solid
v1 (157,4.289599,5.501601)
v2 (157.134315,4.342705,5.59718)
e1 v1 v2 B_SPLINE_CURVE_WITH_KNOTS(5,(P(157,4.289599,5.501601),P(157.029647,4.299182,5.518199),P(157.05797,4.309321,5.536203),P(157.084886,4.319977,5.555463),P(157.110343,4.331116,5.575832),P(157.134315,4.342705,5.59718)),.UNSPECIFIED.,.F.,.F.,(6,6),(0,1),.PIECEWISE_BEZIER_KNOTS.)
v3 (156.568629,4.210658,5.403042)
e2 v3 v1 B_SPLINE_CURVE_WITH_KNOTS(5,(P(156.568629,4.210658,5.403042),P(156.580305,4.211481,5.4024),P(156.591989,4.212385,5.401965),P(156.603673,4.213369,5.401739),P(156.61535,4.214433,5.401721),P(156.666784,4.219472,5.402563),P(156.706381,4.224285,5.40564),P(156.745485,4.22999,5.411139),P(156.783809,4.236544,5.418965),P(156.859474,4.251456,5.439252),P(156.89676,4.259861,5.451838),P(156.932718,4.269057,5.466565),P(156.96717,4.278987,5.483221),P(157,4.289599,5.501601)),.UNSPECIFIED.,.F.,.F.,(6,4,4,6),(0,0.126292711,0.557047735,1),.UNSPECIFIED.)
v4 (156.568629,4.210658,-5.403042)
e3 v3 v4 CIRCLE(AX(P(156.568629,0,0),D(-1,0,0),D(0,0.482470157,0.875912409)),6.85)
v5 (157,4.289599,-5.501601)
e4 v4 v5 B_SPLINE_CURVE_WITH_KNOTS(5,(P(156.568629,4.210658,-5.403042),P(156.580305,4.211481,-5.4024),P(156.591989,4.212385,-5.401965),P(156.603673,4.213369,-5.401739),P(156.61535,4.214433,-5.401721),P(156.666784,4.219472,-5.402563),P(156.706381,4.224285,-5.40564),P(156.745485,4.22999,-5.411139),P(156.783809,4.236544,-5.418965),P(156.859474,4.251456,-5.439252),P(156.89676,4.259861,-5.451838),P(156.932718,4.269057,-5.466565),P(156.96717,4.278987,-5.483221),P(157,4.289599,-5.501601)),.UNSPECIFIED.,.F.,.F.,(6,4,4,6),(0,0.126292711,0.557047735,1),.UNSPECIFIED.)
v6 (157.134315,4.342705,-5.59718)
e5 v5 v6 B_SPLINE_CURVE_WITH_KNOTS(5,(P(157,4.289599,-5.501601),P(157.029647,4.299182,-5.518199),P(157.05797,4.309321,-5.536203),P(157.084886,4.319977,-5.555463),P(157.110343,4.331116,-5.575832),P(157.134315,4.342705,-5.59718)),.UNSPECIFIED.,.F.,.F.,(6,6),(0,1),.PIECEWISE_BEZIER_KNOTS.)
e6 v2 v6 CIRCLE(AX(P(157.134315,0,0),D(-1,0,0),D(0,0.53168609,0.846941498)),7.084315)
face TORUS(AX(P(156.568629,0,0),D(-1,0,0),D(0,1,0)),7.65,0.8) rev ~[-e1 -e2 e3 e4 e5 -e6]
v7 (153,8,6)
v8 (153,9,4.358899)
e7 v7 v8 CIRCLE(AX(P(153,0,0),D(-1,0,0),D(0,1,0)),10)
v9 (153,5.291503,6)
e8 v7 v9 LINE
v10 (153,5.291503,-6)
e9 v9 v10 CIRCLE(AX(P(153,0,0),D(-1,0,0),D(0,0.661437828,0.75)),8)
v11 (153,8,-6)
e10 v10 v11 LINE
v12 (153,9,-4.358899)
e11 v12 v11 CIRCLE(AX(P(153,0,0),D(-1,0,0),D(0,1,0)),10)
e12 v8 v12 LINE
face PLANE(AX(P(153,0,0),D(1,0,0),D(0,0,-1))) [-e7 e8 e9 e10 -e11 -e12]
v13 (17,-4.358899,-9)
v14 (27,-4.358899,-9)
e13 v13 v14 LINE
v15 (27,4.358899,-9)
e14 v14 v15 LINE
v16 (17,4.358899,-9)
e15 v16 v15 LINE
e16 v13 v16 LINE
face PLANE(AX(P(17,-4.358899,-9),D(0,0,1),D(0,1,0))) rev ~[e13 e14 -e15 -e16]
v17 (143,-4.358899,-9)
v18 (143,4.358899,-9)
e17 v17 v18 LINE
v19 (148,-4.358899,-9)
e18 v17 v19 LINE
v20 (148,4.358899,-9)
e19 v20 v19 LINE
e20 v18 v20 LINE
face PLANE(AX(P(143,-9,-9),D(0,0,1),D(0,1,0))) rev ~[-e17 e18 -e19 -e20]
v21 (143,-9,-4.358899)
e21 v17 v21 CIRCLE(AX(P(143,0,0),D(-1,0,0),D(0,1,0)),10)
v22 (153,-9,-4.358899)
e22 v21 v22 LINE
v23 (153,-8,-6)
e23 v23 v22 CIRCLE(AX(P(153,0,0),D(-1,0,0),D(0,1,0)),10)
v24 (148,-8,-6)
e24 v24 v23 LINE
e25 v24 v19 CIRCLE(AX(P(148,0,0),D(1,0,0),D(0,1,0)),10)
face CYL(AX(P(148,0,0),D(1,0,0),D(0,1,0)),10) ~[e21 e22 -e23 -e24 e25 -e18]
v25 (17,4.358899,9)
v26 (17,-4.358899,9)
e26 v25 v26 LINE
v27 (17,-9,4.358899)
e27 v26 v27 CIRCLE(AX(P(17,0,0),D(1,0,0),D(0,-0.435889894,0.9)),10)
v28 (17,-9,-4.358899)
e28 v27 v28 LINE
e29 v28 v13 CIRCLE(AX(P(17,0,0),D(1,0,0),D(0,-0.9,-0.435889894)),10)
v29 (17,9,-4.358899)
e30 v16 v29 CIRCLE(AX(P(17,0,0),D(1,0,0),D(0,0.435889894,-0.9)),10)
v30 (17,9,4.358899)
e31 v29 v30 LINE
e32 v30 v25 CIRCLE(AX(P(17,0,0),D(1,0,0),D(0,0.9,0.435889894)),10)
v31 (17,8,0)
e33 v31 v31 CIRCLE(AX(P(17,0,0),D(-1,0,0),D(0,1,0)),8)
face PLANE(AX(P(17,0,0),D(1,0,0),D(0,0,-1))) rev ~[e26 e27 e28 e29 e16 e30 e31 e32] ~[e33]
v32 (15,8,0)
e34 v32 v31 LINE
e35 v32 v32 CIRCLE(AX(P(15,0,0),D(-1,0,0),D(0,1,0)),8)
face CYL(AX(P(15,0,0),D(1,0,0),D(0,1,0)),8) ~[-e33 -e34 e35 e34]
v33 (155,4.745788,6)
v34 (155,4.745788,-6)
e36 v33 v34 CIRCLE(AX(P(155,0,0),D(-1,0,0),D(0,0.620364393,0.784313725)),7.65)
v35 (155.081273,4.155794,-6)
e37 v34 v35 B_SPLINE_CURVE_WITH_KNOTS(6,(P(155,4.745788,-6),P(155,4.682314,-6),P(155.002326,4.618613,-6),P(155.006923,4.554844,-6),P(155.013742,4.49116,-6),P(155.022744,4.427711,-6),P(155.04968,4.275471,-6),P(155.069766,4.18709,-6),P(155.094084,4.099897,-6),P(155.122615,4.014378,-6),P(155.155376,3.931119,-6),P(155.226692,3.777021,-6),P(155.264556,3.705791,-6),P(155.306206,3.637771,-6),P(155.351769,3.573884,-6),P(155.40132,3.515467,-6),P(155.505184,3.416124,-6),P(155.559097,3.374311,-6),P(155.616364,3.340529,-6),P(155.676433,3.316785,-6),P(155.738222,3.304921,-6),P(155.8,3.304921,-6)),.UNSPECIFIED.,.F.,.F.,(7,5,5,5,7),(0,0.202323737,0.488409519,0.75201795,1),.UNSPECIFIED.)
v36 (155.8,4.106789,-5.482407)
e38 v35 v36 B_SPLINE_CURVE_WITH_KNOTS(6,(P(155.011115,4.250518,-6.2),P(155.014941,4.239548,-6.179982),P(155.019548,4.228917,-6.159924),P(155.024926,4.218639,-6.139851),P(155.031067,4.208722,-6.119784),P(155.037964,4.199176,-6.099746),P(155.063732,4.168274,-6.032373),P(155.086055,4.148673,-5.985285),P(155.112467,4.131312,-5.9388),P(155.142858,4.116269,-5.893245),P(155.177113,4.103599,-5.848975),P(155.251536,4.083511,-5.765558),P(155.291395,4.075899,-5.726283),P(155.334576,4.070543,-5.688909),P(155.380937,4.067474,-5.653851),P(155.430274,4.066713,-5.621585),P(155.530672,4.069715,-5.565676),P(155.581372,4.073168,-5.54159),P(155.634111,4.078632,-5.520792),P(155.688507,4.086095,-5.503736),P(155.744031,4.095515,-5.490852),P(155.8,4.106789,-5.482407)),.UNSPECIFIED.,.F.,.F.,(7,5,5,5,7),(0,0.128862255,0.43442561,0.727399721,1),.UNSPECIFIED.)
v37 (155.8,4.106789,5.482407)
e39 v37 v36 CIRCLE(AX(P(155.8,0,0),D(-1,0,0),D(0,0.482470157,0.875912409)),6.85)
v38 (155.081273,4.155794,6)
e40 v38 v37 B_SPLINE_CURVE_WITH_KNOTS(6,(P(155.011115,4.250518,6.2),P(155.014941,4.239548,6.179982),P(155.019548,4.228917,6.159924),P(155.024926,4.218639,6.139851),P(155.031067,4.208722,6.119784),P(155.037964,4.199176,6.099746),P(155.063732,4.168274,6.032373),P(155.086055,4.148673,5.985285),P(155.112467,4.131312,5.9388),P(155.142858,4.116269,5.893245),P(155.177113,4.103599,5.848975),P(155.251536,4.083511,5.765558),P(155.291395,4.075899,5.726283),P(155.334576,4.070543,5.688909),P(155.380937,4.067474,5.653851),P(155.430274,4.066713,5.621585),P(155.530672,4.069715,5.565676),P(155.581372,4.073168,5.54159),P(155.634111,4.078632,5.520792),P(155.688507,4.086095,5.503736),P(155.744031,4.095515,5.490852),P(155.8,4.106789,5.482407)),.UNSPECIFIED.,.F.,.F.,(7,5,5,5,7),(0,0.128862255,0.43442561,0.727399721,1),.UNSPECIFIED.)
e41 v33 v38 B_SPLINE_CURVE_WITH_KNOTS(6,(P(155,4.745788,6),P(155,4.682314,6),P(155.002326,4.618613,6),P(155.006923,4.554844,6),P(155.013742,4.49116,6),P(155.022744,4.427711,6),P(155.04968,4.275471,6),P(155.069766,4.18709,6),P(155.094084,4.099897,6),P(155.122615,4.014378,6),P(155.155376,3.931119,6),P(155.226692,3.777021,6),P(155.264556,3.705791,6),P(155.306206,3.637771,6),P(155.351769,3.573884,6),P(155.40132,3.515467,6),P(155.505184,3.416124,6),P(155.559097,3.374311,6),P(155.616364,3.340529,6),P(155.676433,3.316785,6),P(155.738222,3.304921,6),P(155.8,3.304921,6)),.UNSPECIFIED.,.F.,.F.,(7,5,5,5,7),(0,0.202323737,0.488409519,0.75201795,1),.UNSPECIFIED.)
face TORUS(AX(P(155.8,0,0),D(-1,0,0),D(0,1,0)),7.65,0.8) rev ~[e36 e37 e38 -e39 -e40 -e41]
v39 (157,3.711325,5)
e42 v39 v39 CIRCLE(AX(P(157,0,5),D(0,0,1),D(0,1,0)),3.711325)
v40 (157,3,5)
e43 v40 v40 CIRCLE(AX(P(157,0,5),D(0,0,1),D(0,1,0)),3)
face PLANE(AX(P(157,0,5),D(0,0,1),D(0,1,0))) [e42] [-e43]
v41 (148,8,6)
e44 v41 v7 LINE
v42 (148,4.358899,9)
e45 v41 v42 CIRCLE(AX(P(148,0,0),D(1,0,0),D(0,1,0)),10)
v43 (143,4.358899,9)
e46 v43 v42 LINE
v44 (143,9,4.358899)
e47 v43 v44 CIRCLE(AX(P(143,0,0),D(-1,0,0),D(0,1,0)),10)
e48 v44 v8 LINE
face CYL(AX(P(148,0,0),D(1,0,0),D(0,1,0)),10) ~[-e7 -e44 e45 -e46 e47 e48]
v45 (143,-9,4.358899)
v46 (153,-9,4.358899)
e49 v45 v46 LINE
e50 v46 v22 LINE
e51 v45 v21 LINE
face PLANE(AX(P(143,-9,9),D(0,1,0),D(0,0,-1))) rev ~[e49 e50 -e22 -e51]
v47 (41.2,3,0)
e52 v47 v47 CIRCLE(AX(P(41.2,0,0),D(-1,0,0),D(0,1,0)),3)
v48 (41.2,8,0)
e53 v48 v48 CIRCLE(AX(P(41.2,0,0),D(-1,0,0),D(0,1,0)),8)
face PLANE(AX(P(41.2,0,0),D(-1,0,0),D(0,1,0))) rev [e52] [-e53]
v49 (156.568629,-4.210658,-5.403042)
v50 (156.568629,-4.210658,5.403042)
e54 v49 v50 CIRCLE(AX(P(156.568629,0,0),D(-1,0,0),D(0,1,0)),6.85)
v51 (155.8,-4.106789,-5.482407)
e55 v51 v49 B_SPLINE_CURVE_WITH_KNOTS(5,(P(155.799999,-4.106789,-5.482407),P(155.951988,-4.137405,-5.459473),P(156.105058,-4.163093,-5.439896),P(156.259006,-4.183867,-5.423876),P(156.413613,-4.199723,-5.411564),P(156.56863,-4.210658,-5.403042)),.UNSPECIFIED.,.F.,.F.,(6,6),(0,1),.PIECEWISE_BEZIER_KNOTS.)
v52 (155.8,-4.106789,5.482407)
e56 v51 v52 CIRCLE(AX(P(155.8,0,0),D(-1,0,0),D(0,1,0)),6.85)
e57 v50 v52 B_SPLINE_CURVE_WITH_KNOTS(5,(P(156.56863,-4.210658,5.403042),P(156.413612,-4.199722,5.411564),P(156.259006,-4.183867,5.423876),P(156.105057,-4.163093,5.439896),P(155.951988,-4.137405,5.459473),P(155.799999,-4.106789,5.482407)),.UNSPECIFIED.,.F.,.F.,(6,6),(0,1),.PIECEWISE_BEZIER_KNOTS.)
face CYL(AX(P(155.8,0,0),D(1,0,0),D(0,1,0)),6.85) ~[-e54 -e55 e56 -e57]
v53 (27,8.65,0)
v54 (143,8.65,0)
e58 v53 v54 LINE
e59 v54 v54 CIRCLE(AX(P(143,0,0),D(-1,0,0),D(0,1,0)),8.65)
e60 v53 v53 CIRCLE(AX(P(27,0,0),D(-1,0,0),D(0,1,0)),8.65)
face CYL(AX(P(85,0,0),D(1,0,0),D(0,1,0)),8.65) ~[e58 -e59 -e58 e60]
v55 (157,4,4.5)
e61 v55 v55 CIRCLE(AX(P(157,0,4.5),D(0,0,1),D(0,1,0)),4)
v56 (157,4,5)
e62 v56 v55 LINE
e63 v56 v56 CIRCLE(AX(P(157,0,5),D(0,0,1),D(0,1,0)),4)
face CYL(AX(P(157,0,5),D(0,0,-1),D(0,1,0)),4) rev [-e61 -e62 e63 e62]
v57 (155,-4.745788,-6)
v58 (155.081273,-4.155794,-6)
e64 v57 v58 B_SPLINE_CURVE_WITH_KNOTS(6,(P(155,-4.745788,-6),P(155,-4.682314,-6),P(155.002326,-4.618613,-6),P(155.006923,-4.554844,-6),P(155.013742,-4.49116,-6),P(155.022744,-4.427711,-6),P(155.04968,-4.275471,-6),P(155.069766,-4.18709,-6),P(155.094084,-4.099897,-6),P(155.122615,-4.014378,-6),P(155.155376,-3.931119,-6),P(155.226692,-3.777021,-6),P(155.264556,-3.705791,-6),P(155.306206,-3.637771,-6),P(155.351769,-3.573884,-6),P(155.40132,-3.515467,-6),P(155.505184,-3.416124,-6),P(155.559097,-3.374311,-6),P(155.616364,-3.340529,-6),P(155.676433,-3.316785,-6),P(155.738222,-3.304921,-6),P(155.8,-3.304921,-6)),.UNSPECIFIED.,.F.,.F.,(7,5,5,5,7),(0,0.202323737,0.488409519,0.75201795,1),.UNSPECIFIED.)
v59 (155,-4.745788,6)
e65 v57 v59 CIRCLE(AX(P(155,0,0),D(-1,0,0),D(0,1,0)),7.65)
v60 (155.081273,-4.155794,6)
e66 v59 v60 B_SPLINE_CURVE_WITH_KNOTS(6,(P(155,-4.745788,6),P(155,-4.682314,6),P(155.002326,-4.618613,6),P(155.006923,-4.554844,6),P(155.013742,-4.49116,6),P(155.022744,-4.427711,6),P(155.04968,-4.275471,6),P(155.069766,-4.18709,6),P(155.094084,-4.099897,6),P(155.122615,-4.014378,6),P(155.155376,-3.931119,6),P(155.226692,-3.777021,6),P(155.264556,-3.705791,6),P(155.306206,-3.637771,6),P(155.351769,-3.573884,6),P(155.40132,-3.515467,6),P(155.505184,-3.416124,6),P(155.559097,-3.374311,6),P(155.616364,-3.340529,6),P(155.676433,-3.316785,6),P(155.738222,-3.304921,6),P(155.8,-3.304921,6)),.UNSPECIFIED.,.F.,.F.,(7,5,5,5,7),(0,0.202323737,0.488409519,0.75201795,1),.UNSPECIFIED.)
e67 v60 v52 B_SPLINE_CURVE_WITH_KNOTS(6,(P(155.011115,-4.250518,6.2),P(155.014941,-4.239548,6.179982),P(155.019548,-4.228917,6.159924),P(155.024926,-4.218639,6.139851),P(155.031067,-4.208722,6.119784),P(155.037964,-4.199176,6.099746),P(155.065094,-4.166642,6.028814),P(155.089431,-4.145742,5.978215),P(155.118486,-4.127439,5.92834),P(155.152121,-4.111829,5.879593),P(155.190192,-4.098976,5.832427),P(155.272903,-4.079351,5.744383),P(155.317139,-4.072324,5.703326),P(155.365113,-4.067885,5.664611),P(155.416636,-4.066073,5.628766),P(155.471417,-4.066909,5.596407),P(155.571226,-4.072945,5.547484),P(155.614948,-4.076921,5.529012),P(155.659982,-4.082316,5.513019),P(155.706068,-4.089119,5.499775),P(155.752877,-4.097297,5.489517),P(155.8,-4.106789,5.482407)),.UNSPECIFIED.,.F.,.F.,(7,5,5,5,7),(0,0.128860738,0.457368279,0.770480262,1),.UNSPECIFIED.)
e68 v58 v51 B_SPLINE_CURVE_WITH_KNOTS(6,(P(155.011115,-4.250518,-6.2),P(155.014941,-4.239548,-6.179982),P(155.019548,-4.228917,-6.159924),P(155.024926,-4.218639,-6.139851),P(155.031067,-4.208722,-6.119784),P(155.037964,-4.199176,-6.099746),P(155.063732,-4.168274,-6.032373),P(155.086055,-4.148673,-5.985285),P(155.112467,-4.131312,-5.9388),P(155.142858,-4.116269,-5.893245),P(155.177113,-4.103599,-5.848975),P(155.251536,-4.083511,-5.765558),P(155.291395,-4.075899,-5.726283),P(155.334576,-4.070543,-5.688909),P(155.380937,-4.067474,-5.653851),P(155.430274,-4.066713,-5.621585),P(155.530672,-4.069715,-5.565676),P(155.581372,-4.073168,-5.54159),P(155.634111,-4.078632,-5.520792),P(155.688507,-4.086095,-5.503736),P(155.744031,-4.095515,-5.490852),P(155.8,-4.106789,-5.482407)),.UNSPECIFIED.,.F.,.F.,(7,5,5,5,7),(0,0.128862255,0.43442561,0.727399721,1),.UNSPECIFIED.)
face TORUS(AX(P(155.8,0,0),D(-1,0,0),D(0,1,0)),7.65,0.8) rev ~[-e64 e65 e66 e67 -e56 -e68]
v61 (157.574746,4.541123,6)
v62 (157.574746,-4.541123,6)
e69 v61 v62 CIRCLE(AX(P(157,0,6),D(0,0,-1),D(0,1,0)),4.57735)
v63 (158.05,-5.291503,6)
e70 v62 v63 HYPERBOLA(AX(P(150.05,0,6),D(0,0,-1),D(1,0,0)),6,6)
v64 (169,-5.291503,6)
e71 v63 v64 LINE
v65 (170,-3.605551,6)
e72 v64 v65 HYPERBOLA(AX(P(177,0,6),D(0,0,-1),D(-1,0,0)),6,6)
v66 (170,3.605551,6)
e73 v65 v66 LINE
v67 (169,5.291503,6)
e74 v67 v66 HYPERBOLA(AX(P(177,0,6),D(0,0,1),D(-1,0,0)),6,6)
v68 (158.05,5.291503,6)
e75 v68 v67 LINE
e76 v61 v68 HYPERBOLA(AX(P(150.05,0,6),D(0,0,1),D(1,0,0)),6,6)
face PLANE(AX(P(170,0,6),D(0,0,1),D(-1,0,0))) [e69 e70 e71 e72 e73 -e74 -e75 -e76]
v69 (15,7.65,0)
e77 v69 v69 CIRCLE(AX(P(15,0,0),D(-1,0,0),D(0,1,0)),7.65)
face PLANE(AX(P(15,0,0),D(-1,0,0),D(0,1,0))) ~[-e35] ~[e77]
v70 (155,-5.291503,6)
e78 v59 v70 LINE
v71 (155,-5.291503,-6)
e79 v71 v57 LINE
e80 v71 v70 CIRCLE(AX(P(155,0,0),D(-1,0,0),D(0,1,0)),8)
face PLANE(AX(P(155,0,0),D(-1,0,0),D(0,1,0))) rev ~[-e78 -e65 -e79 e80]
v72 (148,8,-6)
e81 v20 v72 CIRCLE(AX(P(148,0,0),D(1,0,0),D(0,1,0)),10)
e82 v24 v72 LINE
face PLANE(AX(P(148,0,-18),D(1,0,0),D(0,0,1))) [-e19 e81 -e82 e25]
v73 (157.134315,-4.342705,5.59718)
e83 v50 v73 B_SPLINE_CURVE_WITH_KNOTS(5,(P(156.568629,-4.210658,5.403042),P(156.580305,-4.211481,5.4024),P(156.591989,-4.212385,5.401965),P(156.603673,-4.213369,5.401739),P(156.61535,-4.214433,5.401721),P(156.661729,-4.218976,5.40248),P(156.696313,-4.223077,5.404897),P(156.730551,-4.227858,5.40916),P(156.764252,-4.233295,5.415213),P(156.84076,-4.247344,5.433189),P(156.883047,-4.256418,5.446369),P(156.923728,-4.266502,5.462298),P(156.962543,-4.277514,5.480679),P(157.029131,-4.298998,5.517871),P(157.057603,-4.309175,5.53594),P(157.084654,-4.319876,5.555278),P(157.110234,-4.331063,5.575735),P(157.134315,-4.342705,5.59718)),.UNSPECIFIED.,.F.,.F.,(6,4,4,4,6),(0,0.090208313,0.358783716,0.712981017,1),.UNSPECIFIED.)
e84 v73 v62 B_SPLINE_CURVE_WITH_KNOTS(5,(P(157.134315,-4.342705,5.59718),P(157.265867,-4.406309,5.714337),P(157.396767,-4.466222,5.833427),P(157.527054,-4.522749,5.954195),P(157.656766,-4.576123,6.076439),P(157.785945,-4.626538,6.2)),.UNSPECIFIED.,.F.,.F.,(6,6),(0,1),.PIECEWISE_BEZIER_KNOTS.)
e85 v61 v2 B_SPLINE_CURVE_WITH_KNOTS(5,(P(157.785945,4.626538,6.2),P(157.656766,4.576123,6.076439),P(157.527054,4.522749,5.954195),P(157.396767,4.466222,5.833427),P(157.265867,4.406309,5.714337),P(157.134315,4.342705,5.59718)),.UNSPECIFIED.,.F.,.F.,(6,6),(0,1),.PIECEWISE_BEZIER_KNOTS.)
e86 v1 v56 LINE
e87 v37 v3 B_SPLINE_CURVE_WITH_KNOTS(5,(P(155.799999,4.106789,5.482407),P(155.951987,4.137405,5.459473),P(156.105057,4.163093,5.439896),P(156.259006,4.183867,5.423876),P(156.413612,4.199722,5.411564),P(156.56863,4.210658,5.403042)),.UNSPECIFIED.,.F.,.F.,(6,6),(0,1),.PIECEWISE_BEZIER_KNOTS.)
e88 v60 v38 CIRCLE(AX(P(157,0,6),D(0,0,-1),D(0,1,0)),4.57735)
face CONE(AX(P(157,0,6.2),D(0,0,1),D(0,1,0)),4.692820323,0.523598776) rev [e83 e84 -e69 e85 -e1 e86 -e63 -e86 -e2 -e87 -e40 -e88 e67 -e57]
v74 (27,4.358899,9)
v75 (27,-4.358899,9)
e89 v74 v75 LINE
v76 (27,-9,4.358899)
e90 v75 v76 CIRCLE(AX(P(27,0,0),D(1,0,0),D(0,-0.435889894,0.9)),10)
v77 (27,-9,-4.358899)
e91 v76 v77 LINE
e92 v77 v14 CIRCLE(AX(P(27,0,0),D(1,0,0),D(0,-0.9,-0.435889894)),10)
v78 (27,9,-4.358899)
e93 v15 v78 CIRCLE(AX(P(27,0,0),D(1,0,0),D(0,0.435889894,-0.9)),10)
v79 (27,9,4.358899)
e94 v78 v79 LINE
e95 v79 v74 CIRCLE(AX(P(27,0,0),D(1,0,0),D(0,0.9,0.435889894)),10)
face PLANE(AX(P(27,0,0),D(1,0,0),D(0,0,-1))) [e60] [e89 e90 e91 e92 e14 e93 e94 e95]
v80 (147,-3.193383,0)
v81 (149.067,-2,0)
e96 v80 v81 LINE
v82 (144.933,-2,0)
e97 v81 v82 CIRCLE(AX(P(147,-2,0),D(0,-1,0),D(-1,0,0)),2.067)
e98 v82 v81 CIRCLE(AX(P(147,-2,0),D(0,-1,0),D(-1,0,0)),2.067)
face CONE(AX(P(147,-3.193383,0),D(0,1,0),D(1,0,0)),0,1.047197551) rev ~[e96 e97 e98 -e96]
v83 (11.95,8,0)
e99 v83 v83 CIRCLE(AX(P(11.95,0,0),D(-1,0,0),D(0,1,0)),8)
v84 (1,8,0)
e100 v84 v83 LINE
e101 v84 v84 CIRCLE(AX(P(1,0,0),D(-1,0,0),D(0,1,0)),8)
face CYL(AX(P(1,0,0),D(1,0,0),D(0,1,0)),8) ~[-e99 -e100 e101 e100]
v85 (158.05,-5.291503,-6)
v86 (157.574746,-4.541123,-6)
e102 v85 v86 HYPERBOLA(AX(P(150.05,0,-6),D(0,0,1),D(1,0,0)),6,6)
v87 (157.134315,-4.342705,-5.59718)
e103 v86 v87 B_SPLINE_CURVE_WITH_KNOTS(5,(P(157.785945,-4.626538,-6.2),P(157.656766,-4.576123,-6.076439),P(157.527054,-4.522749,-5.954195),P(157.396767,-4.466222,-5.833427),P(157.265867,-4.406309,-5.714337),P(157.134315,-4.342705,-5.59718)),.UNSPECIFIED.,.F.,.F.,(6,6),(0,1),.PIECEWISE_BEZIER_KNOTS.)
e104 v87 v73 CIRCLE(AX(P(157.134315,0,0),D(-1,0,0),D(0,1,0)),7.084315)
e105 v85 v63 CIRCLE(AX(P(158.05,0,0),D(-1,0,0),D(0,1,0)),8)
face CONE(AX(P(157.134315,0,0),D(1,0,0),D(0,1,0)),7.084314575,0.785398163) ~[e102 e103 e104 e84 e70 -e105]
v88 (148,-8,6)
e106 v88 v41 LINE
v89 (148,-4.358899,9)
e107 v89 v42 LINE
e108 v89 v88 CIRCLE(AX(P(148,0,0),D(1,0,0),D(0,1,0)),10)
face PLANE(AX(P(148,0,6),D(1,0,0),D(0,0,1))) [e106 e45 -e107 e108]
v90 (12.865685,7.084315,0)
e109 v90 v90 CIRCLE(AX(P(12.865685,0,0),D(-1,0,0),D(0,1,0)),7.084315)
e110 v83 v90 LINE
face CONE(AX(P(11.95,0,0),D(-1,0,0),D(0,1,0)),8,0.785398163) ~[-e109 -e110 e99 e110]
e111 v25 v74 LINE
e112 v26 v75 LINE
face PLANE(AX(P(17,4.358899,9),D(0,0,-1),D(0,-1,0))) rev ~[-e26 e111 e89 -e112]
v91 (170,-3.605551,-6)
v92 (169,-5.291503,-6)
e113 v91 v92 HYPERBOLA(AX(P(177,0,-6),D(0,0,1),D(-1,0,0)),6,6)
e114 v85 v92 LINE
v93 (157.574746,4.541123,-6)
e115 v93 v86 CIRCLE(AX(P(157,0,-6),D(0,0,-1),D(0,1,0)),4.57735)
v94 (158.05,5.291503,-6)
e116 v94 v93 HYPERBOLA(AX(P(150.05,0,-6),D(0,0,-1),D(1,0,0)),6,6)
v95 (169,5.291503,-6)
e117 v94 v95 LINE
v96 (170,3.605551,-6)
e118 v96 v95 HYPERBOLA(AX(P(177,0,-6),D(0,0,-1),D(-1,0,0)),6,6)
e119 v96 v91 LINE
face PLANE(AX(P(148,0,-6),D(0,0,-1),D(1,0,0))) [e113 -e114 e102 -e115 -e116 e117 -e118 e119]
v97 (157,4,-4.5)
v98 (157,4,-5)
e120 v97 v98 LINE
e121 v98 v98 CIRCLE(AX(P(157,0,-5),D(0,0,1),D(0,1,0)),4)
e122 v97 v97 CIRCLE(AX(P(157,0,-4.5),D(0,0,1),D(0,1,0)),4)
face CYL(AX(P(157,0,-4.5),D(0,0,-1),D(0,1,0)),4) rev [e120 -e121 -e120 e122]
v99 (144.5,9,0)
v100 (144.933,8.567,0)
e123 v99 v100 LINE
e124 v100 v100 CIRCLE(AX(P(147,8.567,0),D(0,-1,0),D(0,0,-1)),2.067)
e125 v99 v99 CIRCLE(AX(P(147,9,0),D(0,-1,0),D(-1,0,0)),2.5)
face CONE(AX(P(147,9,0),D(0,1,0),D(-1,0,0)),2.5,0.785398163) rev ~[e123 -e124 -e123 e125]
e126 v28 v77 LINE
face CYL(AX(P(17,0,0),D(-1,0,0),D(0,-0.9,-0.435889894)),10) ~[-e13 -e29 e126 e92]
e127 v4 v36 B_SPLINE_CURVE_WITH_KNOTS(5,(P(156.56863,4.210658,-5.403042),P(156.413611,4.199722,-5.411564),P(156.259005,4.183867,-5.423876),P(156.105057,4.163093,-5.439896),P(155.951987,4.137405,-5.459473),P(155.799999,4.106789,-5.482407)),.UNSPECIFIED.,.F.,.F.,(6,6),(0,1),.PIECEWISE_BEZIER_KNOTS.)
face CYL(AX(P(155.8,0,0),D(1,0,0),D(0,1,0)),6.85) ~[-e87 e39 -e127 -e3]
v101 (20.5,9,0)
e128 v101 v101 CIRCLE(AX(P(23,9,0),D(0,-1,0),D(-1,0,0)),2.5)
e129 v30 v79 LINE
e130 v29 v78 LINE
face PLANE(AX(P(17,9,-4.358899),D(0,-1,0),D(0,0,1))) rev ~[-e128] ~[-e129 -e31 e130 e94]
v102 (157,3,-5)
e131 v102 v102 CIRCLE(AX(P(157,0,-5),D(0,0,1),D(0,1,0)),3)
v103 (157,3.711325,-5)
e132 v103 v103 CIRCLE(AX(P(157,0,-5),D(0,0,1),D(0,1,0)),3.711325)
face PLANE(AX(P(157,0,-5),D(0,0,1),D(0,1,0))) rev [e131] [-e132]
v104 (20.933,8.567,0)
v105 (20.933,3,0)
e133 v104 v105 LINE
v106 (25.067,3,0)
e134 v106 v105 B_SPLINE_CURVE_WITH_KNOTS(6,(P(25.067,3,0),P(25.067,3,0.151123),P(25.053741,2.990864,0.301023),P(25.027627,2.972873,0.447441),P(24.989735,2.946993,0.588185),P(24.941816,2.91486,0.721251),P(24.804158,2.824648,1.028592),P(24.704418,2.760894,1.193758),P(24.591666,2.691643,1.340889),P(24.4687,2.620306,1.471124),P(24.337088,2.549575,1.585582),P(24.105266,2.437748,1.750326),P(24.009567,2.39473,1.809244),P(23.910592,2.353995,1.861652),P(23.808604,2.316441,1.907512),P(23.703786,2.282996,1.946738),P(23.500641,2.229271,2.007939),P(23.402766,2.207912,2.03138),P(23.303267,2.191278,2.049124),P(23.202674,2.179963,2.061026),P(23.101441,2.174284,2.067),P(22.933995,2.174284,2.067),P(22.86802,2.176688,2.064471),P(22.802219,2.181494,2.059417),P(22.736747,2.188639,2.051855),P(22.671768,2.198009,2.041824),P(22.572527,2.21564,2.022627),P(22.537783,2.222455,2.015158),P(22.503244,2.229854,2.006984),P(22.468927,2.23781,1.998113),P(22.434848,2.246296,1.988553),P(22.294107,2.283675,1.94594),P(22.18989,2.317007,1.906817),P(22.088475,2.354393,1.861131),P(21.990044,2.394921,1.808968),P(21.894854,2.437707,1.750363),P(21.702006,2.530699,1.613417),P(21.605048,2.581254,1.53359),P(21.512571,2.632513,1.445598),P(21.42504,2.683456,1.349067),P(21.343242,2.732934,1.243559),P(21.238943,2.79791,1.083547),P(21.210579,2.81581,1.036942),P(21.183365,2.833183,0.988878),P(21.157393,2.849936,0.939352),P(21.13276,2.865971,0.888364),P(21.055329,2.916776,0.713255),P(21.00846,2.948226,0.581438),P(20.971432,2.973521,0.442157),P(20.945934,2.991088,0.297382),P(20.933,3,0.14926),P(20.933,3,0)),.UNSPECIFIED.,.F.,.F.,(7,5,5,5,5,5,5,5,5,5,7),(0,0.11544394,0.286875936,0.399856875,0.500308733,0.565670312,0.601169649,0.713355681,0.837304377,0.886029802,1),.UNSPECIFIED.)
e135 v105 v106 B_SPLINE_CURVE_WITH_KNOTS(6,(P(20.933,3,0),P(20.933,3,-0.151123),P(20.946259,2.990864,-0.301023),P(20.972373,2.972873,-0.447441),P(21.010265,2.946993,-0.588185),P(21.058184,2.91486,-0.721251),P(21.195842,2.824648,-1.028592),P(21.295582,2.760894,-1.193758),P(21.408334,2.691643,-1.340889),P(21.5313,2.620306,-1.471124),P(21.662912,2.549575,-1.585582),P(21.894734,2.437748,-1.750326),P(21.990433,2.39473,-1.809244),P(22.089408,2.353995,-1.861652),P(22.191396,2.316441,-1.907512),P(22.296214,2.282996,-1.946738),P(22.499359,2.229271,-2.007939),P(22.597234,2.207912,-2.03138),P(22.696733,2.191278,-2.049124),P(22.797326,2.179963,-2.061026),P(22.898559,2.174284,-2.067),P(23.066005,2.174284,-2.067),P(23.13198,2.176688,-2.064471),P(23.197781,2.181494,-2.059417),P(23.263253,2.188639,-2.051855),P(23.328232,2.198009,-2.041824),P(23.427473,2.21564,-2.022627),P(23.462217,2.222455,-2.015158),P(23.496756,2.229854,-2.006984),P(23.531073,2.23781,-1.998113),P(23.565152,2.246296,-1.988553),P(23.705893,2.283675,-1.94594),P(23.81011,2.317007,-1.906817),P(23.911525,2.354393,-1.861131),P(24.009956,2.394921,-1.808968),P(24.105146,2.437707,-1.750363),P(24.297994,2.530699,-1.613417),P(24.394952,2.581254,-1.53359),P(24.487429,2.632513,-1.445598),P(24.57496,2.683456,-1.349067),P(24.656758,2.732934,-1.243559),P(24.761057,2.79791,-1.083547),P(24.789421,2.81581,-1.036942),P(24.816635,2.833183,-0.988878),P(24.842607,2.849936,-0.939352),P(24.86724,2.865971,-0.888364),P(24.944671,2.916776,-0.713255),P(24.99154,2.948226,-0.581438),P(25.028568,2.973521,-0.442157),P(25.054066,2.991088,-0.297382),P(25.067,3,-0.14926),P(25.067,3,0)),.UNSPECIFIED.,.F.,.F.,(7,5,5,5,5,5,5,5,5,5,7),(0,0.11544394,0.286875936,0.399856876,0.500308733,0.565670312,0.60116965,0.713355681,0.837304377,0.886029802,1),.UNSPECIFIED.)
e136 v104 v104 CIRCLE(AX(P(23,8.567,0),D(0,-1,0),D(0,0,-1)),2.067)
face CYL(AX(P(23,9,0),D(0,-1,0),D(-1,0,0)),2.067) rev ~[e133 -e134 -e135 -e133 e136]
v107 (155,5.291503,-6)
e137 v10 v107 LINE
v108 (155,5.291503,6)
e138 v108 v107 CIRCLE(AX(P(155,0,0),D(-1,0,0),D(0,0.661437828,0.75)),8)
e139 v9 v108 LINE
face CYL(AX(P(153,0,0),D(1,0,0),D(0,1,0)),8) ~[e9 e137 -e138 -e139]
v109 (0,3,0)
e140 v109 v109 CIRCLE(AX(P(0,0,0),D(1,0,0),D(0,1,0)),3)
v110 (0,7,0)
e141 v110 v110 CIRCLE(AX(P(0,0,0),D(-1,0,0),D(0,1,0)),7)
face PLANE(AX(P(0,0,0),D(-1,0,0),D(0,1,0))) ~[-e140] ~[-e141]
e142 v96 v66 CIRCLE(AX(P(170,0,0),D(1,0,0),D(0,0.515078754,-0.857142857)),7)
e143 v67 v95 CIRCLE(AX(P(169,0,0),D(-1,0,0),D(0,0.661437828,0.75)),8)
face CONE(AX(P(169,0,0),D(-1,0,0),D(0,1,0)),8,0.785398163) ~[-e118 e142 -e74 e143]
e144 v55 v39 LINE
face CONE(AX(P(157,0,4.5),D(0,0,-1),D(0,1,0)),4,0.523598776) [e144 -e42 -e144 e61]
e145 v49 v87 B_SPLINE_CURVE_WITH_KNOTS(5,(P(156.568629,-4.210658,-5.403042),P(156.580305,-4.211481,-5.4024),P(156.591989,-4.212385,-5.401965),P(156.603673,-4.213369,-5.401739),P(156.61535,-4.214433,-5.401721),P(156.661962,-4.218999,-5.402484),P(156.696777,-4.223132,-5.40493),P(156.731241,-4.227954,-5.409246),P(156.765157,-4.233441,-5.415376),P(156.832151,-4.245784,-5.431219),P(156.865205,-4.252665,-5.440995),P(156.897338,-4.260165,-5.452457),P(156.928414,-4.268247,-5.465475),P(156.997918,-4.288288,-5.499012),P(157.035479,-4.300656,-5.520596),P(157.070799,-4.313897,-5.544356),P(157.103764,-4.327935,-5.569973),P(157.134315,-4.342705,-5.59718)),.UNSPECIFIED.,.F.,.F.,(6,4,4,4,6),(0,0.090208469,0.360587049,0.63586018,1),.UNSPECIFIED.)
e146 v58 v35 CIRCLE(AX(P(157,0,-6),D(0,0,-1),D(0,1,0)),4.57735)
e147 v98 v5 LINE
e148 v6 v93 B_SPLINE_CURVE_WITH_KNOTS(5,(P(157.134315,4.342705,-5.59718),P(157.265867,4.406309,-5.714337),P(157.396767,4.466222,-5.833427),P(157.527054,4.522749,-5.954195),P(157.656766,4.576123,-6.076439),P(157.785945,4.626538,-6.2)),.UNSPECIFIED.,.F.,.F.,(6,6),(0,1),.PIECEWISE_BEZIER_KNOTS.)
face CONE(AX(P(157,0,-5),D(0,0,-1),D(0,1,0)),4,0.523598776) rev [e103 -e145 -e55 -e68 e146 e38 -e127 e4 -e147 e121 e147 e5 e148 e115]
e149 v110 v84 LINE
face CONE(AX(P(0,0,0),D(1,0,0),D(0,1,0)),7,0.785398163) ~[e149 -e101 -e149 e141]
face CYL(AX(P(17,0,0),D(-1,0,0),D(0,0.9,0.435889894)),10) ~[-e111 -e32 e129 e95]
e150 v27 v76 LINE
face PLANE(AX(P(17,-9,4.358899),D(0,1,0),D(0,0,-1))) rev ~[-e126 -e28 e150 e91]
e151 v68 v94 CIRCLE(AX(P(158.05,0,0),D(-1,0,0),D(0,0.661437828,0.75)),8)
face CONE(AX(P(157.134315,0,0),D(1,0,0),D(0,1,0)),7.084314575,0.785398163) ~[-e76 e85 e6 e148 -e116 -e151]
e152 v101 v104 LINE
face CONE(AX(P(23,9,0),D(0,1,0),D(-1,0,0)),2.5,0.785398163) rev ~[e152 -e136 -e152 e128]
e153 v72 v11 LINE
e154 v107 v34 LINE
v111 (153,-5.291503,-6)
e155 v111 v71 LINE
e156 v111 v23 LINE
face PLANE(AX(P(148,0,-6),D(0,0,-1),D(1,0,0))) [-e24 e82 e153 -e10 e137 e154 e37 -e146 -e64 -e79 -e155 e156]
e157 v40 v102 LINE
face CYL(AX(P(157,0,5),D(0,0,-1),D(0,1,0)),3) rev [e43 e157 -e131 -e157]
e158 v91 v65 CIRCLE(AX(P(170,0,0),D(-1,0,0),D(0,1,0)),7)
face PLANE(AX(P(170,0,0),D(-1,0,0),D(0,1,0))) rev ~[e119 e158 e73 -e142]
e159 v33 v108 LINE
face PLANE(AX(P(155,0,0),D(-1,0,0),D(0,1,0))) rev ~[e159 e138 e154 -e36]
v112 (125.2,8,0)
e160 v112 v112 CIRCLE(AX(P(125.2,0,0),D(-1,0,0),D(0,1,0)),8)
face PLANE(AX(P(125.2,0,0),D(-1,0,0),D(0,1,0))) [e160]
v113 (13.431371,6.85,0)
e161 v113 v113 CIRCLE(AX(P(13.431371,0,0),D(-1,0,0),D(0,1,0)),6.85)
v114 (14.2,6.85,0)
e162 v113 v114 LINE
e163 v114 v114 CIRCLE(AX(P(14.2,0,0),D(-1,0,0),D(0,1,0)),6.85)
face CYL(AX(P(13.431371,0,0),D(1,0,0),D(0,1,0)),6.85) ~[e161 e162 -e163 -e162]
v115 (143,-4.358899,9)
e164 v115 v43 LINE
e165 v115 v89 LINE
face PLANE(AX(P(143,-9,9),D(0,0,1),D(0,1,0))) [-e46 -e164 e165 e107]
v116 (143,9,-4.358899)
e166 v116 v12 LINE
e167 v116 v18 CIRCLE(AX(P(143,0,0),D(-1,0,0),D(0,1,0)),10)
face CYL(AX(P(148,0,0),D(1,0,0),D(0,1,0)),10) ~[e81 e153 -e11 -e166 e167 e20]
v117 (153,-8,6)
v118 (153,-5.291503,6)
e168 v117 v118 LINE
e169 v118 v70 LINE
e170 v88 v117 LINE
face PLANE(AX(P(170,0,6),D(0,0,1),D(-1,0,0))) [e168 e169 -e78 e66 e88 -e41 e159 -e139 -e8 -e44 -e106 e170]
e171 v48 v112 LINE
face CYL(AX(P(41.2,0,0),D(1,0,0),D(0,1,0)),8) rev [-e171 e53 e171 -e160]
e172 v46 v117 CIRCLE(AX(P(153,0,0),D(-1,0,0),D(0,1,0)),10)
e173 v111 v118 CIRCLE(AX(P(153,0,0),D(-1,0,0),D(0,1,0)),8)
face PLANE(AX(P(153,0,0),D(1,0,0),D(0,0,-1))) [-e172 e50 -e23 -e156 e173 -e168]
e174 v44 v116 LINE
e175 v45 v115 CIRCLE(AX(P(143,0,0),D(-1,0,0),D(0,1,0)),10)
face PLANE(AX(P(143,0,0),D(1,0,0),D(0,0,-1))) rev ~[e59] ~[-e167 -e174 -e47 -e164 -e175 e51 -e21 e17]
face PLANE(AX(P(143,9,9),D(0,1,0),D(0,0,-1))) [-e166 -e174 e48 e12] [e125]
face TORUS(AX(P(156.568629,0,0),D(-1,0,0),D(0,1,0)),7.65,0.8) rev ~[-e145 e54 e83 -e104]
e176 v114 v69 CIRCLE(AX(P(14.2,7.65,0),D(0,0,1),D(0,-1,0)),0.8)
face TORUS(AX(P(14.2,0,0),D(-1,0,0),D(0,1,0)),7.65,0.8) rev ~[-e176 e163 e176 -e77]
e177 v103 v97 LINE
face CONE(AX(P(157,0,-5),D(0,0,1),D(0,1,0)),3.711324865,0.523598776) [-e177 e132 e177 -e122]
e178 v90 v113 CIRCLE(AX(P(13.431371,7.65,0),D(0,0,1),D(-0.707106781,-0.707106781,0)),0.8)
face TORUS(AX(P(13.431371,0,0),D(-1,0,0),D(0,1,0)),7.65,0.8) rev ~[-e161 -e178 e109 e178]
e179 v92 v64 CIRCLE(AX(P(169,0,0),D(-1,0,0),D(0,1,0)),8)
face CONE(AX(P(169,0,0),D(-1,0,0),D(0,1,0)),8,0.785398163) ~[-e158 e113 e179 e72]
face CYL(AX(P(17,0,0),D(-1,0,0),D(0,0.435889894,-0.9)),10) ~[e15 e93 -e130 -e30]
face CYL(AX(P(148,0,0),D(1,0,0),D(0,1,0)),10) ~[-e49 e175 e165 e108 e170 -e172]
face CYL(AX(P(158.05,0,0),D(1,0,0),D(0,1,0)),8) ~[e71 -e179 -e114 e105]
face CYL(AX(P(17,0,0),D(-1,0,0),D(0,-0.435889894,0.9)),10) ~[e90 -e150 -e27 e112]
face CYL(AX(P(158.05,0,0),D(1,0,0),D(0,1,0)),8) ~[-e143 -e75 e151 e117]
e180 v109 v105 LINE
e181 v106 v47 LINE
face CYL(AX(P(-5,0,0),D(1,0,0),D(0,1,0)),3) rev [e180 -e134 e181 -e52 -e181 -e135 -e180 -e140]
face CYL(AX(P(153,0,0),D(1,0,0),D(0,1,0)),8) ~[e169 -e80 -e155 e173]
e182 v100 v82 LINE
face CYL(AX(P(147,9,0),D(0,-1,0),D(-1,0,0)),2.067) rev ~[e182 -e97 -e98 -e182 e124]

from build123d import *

# Parameters (mm, degrees)
BOSS_EXTRUDE1_DEPTH     = 10
SKETCH3_W               = 116
SKETCH3_H               = 8.65
SKETCH4_W               = 18
SKETCH4_H               = 18
BOSS_EXTRUDE2_DEPTH     = 10
SKETCH5_W               = 10
SKETCH5_H               = 10
CUT_EXTRUDE1_DEPTH      = 10
CUT_EXTRUDE1_DEPTH_BACK = 10
HOLE1_D                 = 4.134
HOLE1_DEPTH             = 9
HOLE1_CSINK_D           = 5
HOLE1_CSINK_ANGLE       = 90
HOLE2_D                 = 4.134
HOLE2_DEPTH             = 11
HOLE2_CSINK_D           = 5
HOLE2_CSINK_ANGLE       = 90
HOLE2_TIP               = 1.193383006


with BuildPart() as part:
    # Sketch1 → Revolve1 (revolve)
    with BuildSketch(Plane.XY):
        with BuildLine():
            Line((0, 0), (0, 7))
            Line((0, 7), (1, 8))
            Line((1, 8), (11.95, 8))
            Line((11.95, 8), (12.865685425, 7.084314575))
            ThreePointArc((12.865685425, 7.084314575), (13.125224104, 6.910896374), (13.43137085, 6.85))
            Line((13.43137085, 6.85), (14.2, 6.85))
            ThreePointArc((14.2, 6.85), (14.765685425, 7.084314575), (15, 7.65))
            Line((15, 7.65), (15, 8))
            Line((15, 8), (17, 8))
            Line((17, 8), (17, 0))
            Line((17, 0), (0, 0))
        make_face()
    revolve(axis=Axis((17, 0, 0), (-1, 0, 0)))

    # Sketch2 → Boss-Extrude1 (add)
    with BuildSketch(Plane(origin=(17, 0, 0), x_dir=(0, 0, -1), z_dir=(1, 0, 0))):
        with BuildLine():
            Line((-4.358898944, -9), (4.358898944, -9))
            ThreePointArc((4.358898944, -9), (7.071067812, -7.071067812), (9, -4.358898944))
            Line((9, -4.358898944), (9, 4.358898944))
            ThreePointArc((9, 4.358898944), (7.071067812, 7.071067812), (4.358898944, 9))
            Line((4.358898944, 9), (-4.358898944, 9))
            ThreePointArc((-4.358898944, 9), (-7.071067812, 7.071067812), (-9, 4.358898944))
            Line((-9, 4.358898944), (-9, -4.358898944))
            ThreePointArc((-9, -4.358898944), (-7.071067812, -7.071067812), (-4.358898944, -9))
        make_face()
    extrude(amount=BOSS_EXTRUDE1_DEPTH)

    # Sketch3 → Revolve2 (revolve)
    with BuildSketch(Plane.XY):
        with Locations((85, 4.325)):
            Rectangle(SKETCH3_W, SKETCH3_H)
    revolve(axis=Axis((143, 0, 0), (-1, 0, 0)))

    # Sketch4 → Boss-Extrude2 (add)
    with BuildSketch(Plane(origin=(143, 0, 0), x_dir=(0, 0, -1), z_dir=(1, 0, 0))):
        Rectangle(SKETCH4_W, SKETCH4_H)
    extrude(amount=BOSS_EXTRUDE2_DEPTH)

    # Sketch5 → Cut-Revolve1 (revolve, cut)
    with BuildSketch(Plane.XY):
        with Locations((148, 15)):
            Rectangle(SKETCH5_W, SKETCH5_H)
    revolve(axis=Axis((153, 0, 0), (-1, 0, 0)), mode=Mode.SUBTRACT)

    # Sketch6 → Revolve3 (revolve)
    with BuildSketch(Plane.XY):
        with BuildLine():
            Line((153, 0), (153, 8))
            Line((153, 8), (155, 8))
            Line((155, 8), (155, 7.65))
            ThreePointArc((155, 7.65), (155.234314575, 7.084314575), (155.8, 6.85))
            Line((155.8, 6.85), (156.56862915, 6.85))
            ThreePointArc((156.56862915, 6.85), (156.874775896, 6.910896374), (157.134314575, 7.084314575))
            Line((157.134314575, 7.084314575), (158.05, 8))
            Line((158.05, 8), (169, 8))
            Line((169, 8), (170, 7))
            Line((170, 7), (170, 0))
            Line((170, 0), (153, 0))
        make_face()
    revolve(axis=Axis((170, 0, 0), (-1, 0, 0)))

    # Sketch7 → Cut-Extrude1 (cut, two sides: drawn at the far end of the back side and taken through both)
    with BuildSketch(Plane(origin=(0, 0, 0), x_dir=(1, 0, 0), z_dir=(0, 1, 0)).offset(-CUT_EXTRUDE1_DEPTH_BACK)):
        Polygon((148, 18), (148, 6), (170, 6), (170, -6), (148, -6), (148, -18), (182, -18), (182, 18), align=None)
    extrude(amount=CUT_EXTRUDE1_DEPTH + CUT_EXTRUDE1_DEPTH_BACK, mode=Mode.SUBTRACT)

    # Sketch8 → Cut-Revolve2 (revolve, cut)
    with BuildSketch(Plane(origin=(157, 0, 0), x_dir=(0, 0, -1), z_dir=(1, 0, 0))):
        Polygon((-6.2, 0), (-6.2, 4.692820323), (-5, 4), (-4.5, 4), (-5, 3.711324865), (-5, 3), (5, 3), (5, 3.711324865), (4.5, 4), (5, 4), (6.2, 4.692820323), (6.2, 0), align=None)
    revolve(axis=Axis((157, 0, -5), (0, 0, 1)), mode=Mode.SUBTRACT)

    # Hole1
    with Locations(Plane(origin=(0, 9, 0), x_dir=(1, 0, 0), z_dir=(0, 1, 0))):
        with Locations((23, 0)):
            CounterSinkHole(HOLE1_D / 2, HOLE1_CSINK_D / 2, depth=HOLE1_DEPTH, counter_sink_angle=HOLE1_CSINK_ANGLE)

    # Hole2
    with Locations(Plane(origin=(0, 9, 0), x_dir=(1, 0, 0), z_dir=(0, 1, 0))):
        with Locations((147, 0)):
            CounterSinkHole(HOLE2_D / 2, HOLE2_CSINK_D / 2, depth=HOLE2_DEPTH, counter_sink_angle=HOLE2_CSINK_ANGLE)
            with Locations((0, 0, -(HOLE2_DEPTH + HOLE2_TIP / 2))):  # 120° drill point
                Cone(0, HOLE2_D / 2, HOLE2_TIP, mode=Mode.SUBTRACT)

    # Sketch13 → Cut-Revolve3 (revolve, cut)
    with BuildSketch(Plane.XY):
        Polygon((-5, 0), (-5, 3), (41.2, 3), (41.2, 8), (125.2, 8), (125.2, 0), align=None)
    revolve(axis=Axis((125.2, 0, 0), (-1, 0, 0)), mode=Mode.SUBTRACT)


solid = part.part
